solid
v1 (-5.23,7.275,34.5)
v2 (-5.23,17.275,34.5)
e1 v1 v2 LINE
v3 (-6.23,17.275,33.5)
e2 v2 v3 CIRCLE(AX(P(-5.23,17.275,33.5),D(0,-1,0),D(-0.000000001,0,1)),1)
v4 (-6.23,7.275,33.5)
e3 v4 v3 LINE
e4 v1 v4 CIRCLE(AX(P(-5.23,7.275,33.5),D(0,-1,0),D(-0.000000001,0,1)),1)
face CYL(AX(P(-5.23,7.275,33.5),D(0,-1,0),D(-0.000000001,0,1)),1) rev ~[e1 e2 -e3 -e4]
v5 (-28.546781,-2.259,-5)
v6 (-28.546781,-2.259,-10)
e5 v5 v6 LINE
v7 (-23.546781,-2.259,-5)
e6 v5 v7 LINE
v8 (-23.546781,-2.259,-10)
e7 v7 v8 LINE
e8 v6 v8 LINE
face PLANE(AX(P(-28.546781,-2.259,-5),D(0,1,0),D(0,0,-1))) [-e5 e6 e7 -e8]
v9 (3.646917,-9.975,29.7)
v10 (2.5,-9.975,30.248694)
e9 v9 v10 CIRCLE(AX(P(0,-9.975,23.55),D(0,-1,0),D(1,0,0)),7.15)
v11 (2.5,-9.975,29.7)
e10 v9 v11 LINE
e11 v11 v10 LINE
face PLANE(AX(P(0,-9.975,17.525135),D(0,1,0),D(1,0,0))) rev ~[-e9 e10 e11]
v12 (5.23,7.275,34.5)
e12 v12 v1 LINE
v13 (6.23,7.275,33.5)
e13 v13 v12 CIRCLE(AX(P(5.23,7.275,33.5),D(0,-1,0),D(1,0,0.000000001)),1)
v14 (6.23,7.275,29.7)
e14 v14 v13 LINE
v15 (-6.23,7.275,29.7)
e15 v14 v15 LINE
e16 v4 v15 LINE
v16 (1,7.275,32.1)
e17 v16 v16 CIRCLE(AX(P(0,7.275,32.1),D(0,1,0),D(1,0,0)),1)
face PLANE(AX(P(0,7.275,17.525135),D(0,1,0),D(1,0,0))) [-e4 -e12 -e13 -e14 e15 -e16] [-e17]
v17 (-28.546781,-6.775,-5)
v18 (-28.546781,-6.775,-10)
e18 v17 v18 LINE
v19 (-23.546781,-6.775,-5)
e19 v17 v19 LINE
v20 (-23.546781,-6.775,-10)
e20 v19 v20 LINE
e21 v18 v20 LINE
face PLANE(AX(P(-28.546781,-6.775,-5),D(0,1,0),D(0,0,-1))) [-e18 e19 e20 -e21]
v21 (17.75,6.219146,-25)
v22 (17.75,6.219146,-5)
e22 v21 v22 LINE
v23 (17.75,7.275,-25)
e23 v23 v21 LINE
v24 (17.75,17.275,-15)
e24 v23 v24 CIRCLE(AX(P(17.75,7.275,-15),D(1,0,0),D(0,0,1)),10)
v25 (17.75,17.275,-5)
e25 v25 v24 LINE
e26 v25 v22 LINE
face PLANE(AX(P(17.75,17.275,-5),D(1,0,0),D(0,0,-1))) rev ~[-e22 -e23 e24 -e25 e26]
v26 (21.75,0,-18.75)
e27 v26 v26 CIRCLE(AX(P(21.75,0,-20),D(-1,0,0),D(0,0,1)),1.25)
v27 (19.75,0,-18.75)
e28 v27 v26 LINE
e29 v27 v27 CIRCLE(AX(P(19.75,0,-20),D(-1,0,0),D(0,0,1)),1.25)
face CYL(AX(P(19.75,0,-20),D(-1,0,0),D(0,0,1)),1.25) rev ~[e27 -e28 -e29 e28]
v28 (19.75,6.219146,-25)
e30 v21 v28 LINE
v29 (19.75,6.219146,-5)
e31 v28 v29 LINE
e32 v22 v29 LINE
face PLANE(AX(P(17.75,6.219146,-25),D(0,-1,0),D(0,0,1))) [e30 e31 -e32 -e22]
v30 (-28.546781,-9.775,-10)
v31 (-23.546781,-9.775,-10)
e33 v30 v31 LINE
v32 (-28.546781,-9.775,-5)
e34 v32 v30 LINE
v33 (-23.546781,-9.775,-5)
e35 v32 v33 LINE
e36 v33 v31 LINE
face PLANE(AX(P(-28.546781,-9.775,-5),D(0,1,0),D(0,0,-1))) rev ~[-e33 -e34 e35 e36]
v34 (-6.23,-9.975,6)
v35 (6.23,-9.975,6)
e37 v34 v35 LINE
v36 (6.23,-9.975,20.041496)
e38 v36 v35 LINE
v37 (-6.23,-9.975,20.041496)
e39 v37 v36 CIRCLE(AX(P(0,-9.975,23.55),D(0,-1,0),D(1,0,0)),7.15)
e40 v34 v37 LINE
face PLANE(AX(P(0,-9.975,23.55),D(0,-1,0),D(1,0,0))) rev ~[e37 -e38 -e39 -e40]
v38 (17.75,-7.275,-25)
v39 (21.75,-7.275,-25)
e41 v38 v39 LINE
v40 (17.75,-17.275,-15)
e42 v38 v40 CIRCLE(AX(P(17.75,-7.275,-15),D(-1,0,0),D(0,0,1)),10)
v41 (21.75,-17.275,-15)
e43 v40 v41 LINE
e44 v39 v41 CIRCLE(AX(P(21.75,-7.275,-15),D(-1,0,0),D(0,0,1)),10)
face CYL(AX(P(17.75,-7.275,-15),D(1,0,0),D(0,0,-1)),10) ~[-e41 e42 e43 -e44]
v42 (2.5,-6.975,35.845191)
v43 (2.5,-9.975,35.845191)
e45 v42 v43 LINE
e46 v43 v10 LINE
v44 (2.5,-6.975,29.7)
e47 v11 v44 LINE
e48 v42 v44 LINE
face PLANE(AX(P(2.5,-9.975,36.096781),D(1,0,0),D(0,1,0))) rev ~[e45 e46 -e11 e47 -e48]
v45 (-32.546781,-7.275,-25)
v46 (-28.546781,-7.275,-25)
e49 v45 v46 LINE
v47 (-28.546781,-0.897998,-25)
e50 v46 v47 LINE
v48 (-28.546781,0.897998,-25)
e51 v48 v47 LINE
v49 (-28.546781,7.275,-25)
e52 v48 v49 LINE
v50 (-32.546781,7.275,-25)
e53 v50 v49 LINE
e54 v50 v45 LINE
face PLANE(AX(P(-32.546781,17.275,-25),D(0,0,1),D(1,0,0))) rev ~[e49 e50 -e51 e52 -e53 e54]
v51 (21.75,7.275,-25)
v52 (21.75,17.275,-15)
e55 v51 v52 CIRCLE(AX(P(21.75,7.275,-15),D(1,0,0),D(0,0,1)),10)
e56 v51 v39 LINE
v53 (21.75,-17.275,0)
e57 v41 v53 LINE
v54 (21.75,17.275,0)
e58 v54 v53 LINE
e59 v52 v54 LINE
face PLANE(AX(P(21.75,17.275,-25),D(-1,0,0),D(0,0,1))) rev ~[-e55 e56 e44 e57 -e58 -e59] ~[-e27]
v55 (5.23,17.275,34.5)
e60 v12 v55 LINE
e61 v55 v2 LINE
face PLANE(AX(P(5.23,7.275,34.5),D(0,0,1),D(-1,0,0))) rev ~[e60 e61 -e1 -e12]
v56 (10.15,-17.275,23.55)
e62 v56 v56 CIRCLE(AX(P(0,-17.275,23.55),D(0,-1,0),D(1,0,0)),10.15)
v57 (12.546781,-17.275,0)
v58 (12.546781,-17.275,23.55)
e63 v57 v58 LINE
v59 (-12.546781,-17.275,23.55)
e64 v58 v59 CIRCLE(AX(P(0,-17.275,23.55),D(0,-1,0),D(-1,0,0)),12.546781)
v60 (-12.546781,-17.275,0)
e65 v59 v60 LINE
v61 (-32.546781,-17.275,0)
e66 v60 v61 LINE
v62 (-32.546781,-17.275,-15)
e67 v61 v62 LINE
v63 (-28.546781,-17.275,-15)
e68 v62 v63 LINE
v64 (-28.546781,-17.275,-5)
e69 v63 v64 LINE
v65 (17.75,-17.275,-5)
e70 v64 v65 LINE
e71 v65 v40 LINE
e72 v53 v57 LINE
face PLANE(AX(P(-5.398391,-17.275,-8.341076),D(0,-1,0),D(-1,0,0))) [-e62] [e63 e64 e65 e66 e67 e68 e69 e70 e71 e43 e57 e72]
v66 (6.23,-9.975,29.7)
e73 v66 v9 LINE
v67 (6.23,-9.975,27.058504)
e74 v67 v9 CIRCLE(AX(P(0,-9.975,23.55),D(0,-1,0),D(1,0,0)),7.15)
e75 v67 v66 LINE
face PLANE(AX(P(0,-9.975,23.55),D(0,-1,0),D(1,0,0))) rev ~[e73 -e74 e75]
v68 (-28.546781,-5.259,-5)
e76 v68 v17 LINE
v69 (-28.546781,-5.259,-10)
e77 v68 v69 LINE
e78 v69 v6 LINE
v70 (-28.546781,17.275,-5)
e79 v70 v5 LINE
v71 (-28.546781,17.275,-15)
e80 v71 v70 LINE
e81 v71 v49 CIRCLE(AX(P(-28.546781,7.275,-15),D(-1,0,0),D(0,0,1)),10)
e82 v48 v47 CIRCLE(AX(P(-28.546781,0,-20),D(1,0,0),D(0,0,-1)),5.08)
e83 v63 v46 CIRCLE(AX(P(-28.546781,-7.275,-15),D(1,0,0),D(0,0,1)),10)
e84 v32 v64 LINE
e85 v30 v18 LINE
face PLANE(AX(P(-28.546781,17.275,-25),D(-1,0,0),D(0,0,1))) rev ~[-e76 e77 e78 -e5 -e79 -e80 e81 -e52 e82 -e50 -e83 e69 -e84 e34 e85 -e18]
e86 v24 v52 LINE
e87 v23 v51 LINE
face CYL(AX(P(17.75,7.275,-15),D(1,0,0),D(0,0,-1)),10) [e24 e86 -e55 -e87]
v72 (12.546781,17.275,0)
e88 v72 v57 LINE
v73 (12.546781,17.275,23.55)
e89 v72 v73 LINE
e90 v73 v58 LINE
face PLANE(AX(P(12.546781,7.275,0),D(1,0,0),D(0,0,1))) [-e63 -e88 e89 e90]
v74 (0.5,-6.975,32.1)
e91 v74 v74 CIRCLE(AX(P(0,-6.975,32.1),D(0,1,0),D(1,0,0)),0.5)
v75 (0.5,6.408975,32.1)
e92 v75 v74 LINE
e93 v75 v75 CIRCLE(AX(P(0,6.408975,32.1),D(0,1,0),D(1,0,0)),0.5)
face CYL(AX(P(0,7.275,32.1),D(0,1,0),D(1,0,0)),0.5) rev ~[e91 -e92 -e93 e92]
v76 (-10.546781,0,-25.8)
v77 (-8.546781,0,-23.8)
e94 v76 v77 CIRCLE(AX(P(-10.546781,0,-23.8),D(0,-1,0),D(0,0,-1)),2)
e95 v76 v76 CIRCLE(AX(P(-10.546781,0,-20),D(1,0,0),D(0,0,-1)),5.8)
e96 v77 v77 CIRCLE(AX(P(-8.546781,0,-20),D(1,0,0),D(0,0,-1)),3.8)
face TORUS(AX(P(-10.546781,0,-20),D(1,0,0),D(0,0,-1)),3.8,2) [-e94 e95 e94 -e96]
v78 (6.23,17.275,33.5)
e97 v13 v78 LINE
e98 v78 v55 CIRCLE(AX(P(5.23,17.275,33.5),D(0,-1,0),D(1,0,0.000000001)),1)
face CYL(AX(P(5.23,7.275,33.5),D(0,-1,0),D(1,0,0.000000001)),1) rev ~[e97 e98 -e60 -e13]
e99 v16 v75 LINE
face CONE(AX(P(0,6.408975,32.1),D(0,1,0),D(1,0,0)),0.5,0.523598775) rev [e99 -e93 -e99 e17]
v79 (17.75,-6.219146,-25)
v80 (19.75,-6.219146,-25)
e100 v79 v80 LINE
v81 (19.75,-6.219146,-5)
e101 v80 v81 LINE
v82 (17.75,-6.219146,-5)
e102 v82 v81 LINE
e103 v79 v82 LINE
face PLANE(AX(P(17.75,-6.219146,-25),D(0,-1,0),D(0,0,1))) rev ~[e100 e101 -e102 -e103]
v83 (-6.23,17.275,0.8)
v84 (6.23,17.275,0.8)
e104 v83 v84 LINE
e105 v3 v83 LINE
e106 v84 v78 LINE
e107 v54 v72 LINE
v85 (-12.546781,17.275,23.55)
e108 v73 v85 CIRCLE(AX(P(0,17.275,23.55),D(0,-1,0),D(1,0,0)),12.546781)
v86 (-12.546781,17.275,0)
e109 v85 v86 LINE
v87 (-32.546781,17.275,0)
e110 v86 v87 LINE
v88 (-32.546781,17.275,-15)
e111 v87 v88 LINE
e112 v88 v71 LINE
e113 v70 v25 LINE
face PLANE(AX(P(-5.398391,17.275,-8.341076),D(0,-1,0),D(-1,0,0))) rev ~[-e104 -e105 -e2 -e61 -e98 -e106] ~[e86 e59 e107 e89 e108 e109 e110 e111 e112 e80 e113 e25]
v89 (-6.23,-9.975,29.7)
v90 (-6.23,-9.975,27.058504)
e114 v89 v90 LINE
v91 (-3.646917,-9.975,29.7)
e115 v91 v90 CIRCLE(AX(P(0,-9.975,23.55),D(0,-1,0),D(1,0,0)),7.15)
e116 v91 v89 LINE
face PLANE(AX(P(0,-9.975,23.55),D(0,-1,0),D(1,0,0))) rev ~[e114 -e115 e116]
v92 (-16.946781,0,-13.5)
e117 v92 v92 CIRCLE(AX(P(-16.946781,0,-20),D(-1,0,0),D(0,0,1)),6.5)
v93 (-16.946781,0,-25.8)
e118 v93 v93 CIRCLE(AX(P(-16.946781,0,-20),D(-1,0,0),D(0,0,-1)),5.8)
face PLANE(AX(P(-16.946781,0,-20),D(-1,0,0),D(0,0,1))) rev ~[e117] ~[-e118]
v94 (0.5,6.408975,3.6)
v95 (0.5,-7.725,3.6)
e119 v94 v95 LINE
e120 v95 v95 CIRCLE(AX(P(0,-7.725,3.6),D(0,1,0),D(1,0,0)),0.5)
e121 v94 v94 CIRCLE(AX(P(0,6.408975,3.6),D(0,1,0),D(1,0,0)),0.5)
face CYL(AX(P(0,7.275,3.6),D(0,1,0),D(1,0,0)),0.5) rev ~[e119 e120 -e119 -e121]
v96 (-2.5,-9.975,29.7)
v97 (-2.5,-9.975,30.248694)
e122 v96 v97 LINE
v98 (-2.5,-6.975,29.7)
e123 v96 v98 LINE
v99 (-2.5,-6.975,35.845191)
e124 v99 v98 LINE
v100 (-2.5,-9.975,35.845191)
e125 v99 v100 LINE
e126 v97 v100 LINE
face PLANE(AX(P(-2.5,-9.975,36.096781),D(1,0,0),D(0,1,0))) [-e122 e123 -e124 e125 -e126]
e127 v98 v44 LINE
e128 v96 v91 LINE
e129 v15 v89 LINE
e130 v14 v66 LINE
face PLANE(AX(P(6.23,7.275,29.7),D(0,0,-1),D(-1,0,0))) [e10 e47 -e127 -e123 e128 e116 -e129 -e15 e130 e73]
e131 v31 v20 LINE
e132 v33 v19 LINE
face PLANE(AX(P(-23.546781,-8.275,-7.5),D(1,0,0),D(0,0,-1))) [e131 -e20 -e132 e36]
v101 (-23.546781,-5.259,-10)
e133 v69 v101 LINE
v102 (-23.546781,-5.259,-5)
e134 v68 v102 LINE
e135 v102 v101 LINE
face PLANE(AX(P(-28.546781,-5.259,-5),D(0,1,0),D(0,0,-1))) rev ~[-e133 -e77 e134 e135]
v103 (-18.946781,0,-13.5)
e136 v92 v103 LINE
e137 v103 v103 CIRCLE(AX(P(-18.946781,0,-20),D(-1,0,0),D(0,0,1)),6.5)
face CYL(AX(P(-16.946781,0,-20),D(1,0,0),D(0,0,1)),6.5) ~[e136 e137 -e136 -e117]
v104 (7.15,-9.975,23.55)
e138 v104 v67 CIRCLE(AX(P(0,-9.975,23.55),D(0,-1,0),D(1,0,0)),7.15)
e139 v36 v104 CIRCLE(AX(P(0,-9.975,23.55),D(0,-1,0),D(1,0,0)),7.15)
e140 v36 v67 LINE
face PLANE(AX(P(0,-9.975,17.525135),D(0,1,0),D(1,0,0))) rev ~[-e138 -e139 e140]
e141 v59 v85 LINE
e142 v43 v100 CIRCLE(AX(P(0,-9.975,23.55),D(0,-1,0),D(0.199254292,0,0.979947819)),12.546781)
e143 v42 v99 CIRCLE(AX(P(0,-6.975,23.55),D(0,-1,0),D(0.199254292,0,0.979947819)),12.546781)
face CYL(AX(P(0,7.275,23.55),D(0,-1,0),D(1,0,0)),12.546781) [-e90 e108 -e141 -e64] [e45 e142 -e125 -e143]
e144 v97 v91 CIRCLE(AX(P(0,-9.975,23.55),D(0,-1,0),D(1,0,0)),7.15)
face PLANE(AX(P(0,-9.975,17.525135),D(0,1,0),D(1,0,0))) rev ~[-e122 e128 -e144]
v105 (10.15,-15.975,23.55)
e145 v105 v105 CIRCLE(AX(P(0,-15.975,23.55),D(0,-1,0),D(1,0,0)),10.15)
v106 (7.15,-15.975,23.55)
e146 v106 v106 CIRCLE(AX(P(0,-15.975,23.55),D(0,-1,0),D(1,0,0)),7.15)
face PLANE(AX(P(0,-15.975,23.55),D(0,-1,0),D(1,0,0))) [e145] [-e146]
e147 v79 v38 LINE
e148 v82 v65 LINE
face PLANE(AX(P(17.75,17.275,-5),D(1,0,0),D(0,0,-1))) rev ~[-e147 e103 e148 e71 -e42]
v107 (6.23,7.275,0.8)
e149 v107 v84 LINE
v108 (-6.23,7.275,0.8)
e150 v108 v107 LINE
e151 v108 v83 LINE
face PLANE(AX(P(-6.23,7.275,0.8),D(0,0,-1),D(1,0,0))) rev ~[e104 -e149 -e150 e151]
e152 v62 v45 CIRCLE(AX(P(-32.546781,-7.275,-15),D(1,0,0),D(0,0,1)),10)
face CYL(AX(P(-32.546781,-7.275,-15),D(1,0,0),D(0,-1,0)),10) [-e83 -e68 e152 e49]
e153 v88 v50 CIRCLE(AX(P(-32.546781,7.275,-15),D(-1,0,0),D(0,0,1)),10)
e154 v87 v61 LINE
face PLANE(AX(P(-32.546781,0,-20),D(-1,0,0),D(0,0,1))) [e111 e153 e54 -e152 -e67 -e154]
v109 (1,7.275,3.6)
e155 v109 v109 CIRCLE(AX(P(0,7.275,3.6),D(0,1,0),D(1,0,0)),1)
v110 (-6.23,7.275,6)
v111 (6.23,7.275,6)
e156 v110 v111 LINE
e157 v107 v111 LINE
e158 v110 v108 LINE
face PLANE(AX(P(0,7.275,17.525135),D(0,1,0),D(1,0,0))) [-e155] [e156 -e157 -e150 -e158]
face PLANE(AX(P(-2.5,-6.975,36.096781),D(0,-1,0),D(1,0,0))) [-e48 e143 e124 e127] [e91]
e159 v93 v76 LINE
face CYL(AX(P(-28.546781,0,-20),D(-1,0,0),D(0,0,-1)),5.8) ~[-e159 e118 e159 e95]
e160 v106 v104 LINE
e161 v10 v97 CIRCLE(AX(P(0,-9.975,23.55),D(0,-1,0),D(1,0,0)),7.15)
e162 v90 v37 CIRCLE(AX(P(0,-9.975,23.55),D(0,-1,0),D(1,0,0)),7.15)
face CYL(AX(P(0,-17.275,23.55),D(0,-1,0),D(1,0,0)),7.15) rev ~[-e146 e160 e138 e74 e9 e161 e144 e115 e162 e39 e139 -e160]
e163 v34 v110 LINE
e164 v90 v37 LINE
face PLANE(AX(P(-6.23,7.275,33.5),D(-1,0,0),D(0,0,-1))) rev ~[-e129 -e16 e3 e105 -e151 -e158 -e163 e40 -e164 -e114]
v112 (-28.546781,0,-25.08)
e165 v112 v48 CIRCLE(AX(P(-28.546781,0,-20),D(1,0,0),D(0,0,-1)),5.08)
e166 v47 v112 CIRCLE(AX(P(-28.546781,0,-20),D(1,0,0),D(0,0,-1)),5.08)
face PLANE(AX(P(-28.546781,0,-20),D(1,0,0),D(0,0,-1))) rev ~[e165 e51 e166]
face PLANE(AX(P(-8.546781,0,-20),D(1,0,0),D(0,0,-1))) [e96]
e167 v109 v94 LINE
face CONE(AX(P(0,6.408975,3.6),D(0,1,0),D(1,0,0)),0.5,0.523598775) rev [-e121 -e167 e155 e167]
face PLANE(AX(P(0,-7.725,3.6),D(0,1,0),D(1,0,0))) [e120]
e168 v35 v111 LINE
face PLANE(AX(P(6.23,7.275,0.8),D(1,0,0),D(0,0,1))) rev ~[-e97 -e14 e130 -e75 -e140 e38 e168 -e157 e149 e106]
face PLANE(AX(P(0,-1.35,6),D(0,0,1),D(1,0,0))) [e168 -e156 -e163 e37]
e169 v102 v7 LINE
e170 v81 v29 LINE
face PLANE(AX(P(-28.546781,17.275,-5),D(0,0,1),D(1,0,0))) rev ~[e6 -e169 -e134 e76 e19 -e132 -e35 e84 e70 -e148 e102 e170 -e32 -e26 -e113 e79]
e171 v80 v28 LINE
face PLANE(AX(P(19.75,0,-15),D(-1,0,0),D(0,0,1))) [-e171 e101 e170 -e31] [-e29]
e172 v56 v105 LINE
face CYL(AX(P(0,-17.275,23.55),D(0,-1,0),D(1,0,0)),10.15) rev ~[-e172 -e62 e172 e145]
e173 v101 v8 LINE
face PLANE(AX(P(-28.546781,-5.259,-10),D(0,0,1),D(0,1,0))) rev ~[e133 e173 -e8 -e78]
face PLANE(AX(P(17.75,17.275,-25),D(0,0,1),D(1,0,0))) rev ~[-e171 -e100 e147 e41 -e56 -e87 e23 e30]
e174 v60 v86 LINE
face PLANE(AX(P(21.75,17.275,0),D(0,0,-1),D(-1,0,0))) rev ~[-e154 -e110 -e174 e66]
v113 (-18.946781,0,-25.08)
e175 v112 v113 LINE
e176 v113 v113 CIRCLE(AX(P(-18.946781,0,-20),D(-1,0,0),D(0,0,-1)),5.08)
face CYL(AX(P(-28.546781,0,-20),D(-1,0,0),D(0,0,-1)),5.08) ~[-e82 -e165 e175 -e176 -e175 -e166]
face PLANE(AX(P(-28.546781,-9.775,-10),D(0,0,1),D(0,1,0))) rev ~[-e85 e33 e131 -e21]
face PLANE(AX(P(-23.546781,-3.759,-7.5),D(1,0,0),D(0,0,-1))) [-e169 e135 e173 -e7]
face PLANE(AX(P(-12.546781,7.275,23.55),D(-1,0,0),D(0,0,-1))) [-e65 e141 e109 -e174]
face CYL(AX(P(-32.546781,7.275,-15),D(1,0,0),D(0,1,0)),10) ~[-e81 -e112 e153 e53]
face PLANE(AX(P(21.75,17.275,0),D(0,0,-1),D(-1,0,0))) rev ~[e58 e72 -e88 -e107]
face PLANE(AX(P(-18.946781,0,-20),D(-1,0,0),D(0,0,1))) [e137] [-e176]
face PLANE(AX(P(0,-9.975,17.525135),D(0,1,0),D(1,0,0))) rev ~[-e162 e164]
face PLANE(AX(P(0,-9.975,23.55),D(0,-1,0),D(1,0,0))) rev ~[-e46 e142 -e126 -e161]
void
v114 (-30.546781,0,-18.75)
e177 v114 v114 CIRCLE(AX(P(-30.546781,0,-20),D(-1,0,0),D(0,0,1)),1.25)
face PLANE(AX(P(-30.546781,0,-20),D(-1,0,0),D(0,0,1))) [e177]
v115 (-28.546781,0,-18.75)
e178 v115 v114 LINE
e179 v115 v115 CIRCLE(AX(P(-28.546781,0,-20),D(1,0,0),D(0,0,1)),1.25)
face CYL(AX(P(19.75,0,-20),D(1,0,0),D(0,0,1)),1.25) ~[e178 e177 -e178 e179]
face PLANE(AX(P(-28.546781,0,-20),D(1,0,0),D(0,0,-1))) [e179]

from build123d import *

# Parameters (mm, degrees)
SKETCH4_W                = 12.46
SKETCH4_H                = 17.25
BOSS_EXTRUDE3_DEPTH      = 6
SKETCH8_R                = 12.546781182
SKETCH8_R_2              = 11.15
BOSS_EXTRUDE6_DEPTH      = 7.3
BOSS_EXTRUDE6_DEPTH_BACK = 17.25
BOSS_EXTRUDE4_DEPTH      = 17.25
SKETCH6_R                = 0.5
CUT_EXTRUDE1_DEPTH       = 15
CHAMFER1_SIZE            = 0.5
CHAMFER1_SIZE2           = 0.866025404
SKETCH10_W               = 12.46
SKETCH10_H               = 23.7
CUT_EXTRUDE3_DEPTH       = 17.25
CUT_EXTRUDE4_REACH       = 38.097
SKETCH11_W               = 5
SKETCH11_H               = 3
BOSS_EXTRUDE7_DEPTH      = 7.3
BOSS_EXTRUDE9_DEPTH      = 10
SKETCH20_R               = 11.15
SKETCH20_R_2             = 7.15
BOSS_EXTRUDE11_DEPTH     = 7.3
SKETCH21_R               = 10.15
SKETCH21_R_2             = 7.15
CUT_EXTRUDE7_DEPTH       = 1.3
BOSS_EXTRUDE10_DEPTH     = 34.55
SKETCH18_W               = 20
SKETCH18_H               = 12.438292938
CUT_EXTRUDE5_DEPTH       = 2
SKETCH19_R               = 1.25
CUT_EXTRUDE6_DEPTH       = 53.296781182
CUT_EXTRUDE6_DEPTH_BACK  = 3
FILLET1_R                = 10
SKETCH22_R               = 5.8
BOSS_EXTRUDE12_DEPTH     = 20
FILLET2_R                = 2
SKETCH23_R               = 5.930854157
SKETCH23_R_2             = 5.08
CUT_EXTRUDE8_DEPTH       = 11.6
SKETCH24_R               = 6.5
BOSS_EXTRUDE13_DEPTH     = 2
SKETCH25_R               = 1.25
BOSS_EXTRUDE14_DEPTH     = 2
SKETCH26_W               = 5
SKETCH26_H               = 3
BOSS_EXTRUDE15_DEPTH     = 5


with BuildPart() as part:
    # Sketch4 → Boss-Extrude3 (new body)
    with BuildSketch(Plane.XY):
        with Locations((0, -1.35)):
            Rectangle(SKETCH4_W, SKETCH4_H)
    extrude(amount=BOSS_EXTRUDE3_DEPTH)



with BuildPart() as body_2:
    # Sketch8 → Boss-Extrude6 (new body, two sides)
    with BuildSketch(Plane(origin=(0, -9.975, 0), x_dir=(-1, 0, 0), z_dir=(0, -1, 0))) as boss_extrude6_sk:
        with Locations((0, -23.55)):
            Circle(SKETCH8_R)
        with Locations((0, -23.55)):
            Circle(SKETCH8_R_2, mode=Mode.SUBTRACT)
    extrude(amount=BOSS_EXTRUDE6_DEPTH)
    extrude(boss_extrude6_sk.sketch, amount=-BOSS_EXTRUDE6_DEPTH_BACK)


with BuildPart() as part_1:
    add(part.part)

    add(body_2.part)  # Boss-Extrude4 merges body 2
    # Sketch5 → Boss-Extrude4 (add)
    with BuildSketch(Plane(origin=(0, 7.275, 0), x_dir=(1, 0, 0), z_dir=(0, 1, 0))):
        with BuildLine():
            Line((12.546781182, -23.55), (12.546781182, 0))
            Line((12.546781182, 0), (6.23, 0))
            Line((6.23, 0), (6.23, -29.7))
            Line((6.23, -29.7), (-6.23, -29.7))
            Line((-6.23, -29.7), (-6.23, 0))
            Line((-6.23, 0), (-12.546781182, 0))
            Line((-12.546781182, 0), (-12.546781182, -23.55))
            ThreePointArc((-12.546781182, -23.55), (0, -36.096781182), (12.546781182, -23.55))
        make_face()
    extrude(amount=-BOSS_EXTRUDE4_DEPTH)

    # Sketch6 → Cut-Extrude1 (cut)
    with BuildSketch(Plane(origin=(0, 7.275, 0), x_dir=(1, 0, 0), z_dir=(0, 1, 0))):
        with Locations((0, -3.6)):
            Circle(SKETCH6_R)
        with Locations((0, -32.1)):
            Circle(SKETCH6_R)
    extrude(amount=-CUT_EXTRUDE1_DEPTH, mode=Mode.SUBTRACT)

    # Chamfer1
    chamfer1_edges = [part_1.edges().sort_by_distance(p)[0] for p in [
        (-0.5, 7.275, 3.6),
        (-0.5, 7.275, 32.1),
    ]]
    chamfer1_side = [part_1.faces().sort_by_distance(p)[0] for p in [
        (0, 7.275, 35.657160381),
    ]]
    chamfer(chamfer1_edges, length=CHAMFER1_SIZE, length2=CHAMFER1_SIZE2, reference=chamfer1_side[0])

    # Sketch10 → Cut-Extrude3 (cut)
    with BuildSketch(Plane(origin=(0, 7.275, 0), x_dir=(1, 0, 0), z_dir=(0, 1, 0))):
        with Locations((0, -17.85)):
            Rectangle(SKETCH10_W, SKETCH10_H)
    extrude(amount=-CUT_EXTRUDE3_DEPTH, mode=Mode.SUBTRACT)

    # Sketch11 → Cut-Extrude4 (cut, up to next)
    with BuildSketch(Plane.XY.offset(36.096781182), mode=Mode.PRIVATE) as cut_extrude4_sk1:
        with Locations((0, -8.475)):
            Rectangle(SKETCH11_W, SKETCH11_H)
    cut_extrude4_tool1 = extrude(cut_extrude4_sk1.sketch, amount=-CUT_EXTRUDE4_REACH, mode=Mode.PRIVATE) & part_1.part
    add(cut_extrude4_tool1.solids().sort_by_distance((0, -8.475, 36.096781))[0], mode=Mode.SUBTRACT)

    # Sketch13 → Boss-Extrude7 (add)
    with BuildSketch(Plane.XZ.offset(17.275)):
        with BuildLine():
            Line((-12.546781182, 23.55), (-12.546781182, 0))
            Line((-12.546781182, 0), (12.546781182, 0))
            Line((12.546781182, 0), (12.546781182, 23.55))
            ThreePointArc((12.546781182, 23.55), (0, 11.003218818), (-12.546781182, 23.55))
        make_face()
    extrude(amount=-BOSS_EXTRUDE7_DEPTH)

    # Sketch15 → Boss-Extrude9 (add)
    with BuildSketch(Plane(origin=(0, 7.275, 0), x_dir=(1, 0, 0), z_dir=(0, 1, 0))):
        with BuildLine():
            Line((-12.546781182, 0), (12.546781182, 0))
            Line((12.546781182, 0), (12.546781182, -23.55))
            ThreePointArc((12.546781182, -23.55), (0, -36.096781182), (-12.546781182, -23.55))
            Line((-12.546781182, -23.55), (-12.546781182, 0))
        make_face()
        with BuildLine():
            Line((-6.23, -0.8), (6.23, -0.8))
            Line((6.23, -0.8), (6.23, -33.5))
            ThreePointArc((6.23, -33.5), (5.937106781, -34.207106781), (5.23, -34.5))
            Line((5.23, -34.5), (-5.23, -34.5))
            ThreePointArc((-5.23, -34.5), (-5.937106781, -34.207106781), (-6.23, -33.5))
            Line((-6.23, -33.5), (-6.23, -0.8))
        make_face(mode=Mode.SUBTRACT)
    extrude(amount=BOSS_EXTRUDE9_DEPTH)

    # Sketch20 → Boss-Extrude11 (add)
    with BuildSketch(Plane.XZ.offset(17.275)):
        with Locations((0, 23.55)):
            Circle(SKETCH20_R)
        with Locations((0, 23.55)):
            Circle(SKETCH20_R_2, mode=Mode.SUBTRACT)
    extrude(amount=-BOSS_EXTRUDE11_DEPTH)

    # Sketch21 → Cut-Extrude7 (cut)
    with BuildSketch(Plane.XZ.offset(17.275)):
        with Locations((0, 23.55)):
            Circle(SKETCH21_R)
        with Locations((0, 23.55)):
            Circle(SKETCH21_R_2, mode=Mode.SUBTRACT)
    extrude(amount=-CUT_EXTRUDE7_DEPTH, mode=Mode.SUBTRACT)

    # Sketch17 → Boss-Extrude10 (add)
    with BuildSketch(Plane(origin=(0, 17.275, 0), x_dir=(1, 0, 0), z_dir=(0, 1, 0))):
        Polygon((21.75, 25), (21.75, 0), (-32.546781182, 0), (-32.546781182, 25), (-28.546781182, 25), (-28.546781182, 5), (17.75, 5), (17.75, 25), align=None)
    extrude(amount=-BOSS_EXTRUDE10_DEPTH)

    # Sketch18 → Cut-Extrude5 (cut)
    with BuildSketch(Plane.ZY.offset(-17.75)):
        with Locations((-15, 0)):
            Rectangle(SKETCH18_W, SKETCH18_H)
    extrude(amount=-CUT_EXTRUDE5_DEPTH, mode=Mode.SUBTRACT)

    # Sketch19 → Cut-Extrude6 (cut, two sides)
    with BuildSketch(Plane.ZY.offset(-19.75)) as cut_extrude6_sk:
        with Locations((-20, 0)):
            Circle(SKETCH19_R)
    extrude(amount=CUT_EXTRUDE6_DEPTH, mode=Mode.SUBTRACT)
    extrude(cut_extrude6_sk.sketch, amount=-CUT_EXTRUDE6_DEPTH_BACK, mode=Mode.SUBTRACT)

    # Fillet1
    fillet1_edges = [part_1.edges().sort_by_distance(p)[0] for p in [
        (19.75, 17.275, -25),
        (-30.546781182, 17.275, -25),
        (-30.546781182, -17.275, -25),
        (19.75, -17.275, -25),
    ]]
    fillet(fillet1_edges, radius=FILLET1_R)

    # Sketch22 → Boss-Extrude12 (add)
    with BuildSketch(Plane(origin=(-28.546781182, 0, 0), x_dir=(0, 0, -1), z_dir=(1, 0, 0))):
        with Locations((20, 0)):
            Circle(SKETCH22_R)
    extrude(amount=BOSS_EXTRUDE12_DEPTH)

    # Fillet2
    fillet2_edges = [part_1.edges().sort_by_distance(p)[0] for p in [
        (-8.546781182, 0, -14.2),
    ]]
    fillet(fillet2_edges, radius=FILLET2_R)

    # Sketch23 → Cut-Extrude8 (cut)
    with BuildSketch(Plane(origin=(-28.546781182, 0, 0), x_dir=(0, 0, -1), z_dir=(1, 0, 0))):
        with Locations((20, 0)):
            Circle(SKETCH23_R)
        with Locations((20, 0)):
            Circle(SKETCH23_R_2, mode=Mode.SUBTRACT)
    extrude(amount=CUT_EXTRUDE8_DEPTH, mode=Mode.SUBTRACT)

    # Sketch24 → Boss-Extrude13 (add)
    with BuildSketch(Plane.ZY.offset(16.946781182)):
        with Locations((-20, 0)):
            Circle(SKETCH24_R)
    extrude(amount=BOSS_EXTRUDE13_DEPTH)

    # Sketch25 → Boss-Extrude14 (add)
    with BuildSketch(Plane.ZY.offset(32.546781182)):
        with Locations((-20, 0)):
            Circle(SKETCH25_R)
    extrude(amount=-BOSS_EXTRUDE14_DEPTH)

    # Sketch26 → Boss-Extrude15 (add)
    with BuildSketch(Plane(origin=(-28.546781182, 0, 0), x_dir=(0, 0, -1), z_dir=(1, 0, 0))):
        with Locations((7.5, -8.275)):
            Rectangle(SKETCH26_W, SKETCH26_H)
        with Locations((7.5, -3.759)):
            Rectangle(SKETCH26_W, SKETCH26_H)
    extrude(amount=BOSS_EXTRUDE15_DEPTH)


solid = part_1.part
